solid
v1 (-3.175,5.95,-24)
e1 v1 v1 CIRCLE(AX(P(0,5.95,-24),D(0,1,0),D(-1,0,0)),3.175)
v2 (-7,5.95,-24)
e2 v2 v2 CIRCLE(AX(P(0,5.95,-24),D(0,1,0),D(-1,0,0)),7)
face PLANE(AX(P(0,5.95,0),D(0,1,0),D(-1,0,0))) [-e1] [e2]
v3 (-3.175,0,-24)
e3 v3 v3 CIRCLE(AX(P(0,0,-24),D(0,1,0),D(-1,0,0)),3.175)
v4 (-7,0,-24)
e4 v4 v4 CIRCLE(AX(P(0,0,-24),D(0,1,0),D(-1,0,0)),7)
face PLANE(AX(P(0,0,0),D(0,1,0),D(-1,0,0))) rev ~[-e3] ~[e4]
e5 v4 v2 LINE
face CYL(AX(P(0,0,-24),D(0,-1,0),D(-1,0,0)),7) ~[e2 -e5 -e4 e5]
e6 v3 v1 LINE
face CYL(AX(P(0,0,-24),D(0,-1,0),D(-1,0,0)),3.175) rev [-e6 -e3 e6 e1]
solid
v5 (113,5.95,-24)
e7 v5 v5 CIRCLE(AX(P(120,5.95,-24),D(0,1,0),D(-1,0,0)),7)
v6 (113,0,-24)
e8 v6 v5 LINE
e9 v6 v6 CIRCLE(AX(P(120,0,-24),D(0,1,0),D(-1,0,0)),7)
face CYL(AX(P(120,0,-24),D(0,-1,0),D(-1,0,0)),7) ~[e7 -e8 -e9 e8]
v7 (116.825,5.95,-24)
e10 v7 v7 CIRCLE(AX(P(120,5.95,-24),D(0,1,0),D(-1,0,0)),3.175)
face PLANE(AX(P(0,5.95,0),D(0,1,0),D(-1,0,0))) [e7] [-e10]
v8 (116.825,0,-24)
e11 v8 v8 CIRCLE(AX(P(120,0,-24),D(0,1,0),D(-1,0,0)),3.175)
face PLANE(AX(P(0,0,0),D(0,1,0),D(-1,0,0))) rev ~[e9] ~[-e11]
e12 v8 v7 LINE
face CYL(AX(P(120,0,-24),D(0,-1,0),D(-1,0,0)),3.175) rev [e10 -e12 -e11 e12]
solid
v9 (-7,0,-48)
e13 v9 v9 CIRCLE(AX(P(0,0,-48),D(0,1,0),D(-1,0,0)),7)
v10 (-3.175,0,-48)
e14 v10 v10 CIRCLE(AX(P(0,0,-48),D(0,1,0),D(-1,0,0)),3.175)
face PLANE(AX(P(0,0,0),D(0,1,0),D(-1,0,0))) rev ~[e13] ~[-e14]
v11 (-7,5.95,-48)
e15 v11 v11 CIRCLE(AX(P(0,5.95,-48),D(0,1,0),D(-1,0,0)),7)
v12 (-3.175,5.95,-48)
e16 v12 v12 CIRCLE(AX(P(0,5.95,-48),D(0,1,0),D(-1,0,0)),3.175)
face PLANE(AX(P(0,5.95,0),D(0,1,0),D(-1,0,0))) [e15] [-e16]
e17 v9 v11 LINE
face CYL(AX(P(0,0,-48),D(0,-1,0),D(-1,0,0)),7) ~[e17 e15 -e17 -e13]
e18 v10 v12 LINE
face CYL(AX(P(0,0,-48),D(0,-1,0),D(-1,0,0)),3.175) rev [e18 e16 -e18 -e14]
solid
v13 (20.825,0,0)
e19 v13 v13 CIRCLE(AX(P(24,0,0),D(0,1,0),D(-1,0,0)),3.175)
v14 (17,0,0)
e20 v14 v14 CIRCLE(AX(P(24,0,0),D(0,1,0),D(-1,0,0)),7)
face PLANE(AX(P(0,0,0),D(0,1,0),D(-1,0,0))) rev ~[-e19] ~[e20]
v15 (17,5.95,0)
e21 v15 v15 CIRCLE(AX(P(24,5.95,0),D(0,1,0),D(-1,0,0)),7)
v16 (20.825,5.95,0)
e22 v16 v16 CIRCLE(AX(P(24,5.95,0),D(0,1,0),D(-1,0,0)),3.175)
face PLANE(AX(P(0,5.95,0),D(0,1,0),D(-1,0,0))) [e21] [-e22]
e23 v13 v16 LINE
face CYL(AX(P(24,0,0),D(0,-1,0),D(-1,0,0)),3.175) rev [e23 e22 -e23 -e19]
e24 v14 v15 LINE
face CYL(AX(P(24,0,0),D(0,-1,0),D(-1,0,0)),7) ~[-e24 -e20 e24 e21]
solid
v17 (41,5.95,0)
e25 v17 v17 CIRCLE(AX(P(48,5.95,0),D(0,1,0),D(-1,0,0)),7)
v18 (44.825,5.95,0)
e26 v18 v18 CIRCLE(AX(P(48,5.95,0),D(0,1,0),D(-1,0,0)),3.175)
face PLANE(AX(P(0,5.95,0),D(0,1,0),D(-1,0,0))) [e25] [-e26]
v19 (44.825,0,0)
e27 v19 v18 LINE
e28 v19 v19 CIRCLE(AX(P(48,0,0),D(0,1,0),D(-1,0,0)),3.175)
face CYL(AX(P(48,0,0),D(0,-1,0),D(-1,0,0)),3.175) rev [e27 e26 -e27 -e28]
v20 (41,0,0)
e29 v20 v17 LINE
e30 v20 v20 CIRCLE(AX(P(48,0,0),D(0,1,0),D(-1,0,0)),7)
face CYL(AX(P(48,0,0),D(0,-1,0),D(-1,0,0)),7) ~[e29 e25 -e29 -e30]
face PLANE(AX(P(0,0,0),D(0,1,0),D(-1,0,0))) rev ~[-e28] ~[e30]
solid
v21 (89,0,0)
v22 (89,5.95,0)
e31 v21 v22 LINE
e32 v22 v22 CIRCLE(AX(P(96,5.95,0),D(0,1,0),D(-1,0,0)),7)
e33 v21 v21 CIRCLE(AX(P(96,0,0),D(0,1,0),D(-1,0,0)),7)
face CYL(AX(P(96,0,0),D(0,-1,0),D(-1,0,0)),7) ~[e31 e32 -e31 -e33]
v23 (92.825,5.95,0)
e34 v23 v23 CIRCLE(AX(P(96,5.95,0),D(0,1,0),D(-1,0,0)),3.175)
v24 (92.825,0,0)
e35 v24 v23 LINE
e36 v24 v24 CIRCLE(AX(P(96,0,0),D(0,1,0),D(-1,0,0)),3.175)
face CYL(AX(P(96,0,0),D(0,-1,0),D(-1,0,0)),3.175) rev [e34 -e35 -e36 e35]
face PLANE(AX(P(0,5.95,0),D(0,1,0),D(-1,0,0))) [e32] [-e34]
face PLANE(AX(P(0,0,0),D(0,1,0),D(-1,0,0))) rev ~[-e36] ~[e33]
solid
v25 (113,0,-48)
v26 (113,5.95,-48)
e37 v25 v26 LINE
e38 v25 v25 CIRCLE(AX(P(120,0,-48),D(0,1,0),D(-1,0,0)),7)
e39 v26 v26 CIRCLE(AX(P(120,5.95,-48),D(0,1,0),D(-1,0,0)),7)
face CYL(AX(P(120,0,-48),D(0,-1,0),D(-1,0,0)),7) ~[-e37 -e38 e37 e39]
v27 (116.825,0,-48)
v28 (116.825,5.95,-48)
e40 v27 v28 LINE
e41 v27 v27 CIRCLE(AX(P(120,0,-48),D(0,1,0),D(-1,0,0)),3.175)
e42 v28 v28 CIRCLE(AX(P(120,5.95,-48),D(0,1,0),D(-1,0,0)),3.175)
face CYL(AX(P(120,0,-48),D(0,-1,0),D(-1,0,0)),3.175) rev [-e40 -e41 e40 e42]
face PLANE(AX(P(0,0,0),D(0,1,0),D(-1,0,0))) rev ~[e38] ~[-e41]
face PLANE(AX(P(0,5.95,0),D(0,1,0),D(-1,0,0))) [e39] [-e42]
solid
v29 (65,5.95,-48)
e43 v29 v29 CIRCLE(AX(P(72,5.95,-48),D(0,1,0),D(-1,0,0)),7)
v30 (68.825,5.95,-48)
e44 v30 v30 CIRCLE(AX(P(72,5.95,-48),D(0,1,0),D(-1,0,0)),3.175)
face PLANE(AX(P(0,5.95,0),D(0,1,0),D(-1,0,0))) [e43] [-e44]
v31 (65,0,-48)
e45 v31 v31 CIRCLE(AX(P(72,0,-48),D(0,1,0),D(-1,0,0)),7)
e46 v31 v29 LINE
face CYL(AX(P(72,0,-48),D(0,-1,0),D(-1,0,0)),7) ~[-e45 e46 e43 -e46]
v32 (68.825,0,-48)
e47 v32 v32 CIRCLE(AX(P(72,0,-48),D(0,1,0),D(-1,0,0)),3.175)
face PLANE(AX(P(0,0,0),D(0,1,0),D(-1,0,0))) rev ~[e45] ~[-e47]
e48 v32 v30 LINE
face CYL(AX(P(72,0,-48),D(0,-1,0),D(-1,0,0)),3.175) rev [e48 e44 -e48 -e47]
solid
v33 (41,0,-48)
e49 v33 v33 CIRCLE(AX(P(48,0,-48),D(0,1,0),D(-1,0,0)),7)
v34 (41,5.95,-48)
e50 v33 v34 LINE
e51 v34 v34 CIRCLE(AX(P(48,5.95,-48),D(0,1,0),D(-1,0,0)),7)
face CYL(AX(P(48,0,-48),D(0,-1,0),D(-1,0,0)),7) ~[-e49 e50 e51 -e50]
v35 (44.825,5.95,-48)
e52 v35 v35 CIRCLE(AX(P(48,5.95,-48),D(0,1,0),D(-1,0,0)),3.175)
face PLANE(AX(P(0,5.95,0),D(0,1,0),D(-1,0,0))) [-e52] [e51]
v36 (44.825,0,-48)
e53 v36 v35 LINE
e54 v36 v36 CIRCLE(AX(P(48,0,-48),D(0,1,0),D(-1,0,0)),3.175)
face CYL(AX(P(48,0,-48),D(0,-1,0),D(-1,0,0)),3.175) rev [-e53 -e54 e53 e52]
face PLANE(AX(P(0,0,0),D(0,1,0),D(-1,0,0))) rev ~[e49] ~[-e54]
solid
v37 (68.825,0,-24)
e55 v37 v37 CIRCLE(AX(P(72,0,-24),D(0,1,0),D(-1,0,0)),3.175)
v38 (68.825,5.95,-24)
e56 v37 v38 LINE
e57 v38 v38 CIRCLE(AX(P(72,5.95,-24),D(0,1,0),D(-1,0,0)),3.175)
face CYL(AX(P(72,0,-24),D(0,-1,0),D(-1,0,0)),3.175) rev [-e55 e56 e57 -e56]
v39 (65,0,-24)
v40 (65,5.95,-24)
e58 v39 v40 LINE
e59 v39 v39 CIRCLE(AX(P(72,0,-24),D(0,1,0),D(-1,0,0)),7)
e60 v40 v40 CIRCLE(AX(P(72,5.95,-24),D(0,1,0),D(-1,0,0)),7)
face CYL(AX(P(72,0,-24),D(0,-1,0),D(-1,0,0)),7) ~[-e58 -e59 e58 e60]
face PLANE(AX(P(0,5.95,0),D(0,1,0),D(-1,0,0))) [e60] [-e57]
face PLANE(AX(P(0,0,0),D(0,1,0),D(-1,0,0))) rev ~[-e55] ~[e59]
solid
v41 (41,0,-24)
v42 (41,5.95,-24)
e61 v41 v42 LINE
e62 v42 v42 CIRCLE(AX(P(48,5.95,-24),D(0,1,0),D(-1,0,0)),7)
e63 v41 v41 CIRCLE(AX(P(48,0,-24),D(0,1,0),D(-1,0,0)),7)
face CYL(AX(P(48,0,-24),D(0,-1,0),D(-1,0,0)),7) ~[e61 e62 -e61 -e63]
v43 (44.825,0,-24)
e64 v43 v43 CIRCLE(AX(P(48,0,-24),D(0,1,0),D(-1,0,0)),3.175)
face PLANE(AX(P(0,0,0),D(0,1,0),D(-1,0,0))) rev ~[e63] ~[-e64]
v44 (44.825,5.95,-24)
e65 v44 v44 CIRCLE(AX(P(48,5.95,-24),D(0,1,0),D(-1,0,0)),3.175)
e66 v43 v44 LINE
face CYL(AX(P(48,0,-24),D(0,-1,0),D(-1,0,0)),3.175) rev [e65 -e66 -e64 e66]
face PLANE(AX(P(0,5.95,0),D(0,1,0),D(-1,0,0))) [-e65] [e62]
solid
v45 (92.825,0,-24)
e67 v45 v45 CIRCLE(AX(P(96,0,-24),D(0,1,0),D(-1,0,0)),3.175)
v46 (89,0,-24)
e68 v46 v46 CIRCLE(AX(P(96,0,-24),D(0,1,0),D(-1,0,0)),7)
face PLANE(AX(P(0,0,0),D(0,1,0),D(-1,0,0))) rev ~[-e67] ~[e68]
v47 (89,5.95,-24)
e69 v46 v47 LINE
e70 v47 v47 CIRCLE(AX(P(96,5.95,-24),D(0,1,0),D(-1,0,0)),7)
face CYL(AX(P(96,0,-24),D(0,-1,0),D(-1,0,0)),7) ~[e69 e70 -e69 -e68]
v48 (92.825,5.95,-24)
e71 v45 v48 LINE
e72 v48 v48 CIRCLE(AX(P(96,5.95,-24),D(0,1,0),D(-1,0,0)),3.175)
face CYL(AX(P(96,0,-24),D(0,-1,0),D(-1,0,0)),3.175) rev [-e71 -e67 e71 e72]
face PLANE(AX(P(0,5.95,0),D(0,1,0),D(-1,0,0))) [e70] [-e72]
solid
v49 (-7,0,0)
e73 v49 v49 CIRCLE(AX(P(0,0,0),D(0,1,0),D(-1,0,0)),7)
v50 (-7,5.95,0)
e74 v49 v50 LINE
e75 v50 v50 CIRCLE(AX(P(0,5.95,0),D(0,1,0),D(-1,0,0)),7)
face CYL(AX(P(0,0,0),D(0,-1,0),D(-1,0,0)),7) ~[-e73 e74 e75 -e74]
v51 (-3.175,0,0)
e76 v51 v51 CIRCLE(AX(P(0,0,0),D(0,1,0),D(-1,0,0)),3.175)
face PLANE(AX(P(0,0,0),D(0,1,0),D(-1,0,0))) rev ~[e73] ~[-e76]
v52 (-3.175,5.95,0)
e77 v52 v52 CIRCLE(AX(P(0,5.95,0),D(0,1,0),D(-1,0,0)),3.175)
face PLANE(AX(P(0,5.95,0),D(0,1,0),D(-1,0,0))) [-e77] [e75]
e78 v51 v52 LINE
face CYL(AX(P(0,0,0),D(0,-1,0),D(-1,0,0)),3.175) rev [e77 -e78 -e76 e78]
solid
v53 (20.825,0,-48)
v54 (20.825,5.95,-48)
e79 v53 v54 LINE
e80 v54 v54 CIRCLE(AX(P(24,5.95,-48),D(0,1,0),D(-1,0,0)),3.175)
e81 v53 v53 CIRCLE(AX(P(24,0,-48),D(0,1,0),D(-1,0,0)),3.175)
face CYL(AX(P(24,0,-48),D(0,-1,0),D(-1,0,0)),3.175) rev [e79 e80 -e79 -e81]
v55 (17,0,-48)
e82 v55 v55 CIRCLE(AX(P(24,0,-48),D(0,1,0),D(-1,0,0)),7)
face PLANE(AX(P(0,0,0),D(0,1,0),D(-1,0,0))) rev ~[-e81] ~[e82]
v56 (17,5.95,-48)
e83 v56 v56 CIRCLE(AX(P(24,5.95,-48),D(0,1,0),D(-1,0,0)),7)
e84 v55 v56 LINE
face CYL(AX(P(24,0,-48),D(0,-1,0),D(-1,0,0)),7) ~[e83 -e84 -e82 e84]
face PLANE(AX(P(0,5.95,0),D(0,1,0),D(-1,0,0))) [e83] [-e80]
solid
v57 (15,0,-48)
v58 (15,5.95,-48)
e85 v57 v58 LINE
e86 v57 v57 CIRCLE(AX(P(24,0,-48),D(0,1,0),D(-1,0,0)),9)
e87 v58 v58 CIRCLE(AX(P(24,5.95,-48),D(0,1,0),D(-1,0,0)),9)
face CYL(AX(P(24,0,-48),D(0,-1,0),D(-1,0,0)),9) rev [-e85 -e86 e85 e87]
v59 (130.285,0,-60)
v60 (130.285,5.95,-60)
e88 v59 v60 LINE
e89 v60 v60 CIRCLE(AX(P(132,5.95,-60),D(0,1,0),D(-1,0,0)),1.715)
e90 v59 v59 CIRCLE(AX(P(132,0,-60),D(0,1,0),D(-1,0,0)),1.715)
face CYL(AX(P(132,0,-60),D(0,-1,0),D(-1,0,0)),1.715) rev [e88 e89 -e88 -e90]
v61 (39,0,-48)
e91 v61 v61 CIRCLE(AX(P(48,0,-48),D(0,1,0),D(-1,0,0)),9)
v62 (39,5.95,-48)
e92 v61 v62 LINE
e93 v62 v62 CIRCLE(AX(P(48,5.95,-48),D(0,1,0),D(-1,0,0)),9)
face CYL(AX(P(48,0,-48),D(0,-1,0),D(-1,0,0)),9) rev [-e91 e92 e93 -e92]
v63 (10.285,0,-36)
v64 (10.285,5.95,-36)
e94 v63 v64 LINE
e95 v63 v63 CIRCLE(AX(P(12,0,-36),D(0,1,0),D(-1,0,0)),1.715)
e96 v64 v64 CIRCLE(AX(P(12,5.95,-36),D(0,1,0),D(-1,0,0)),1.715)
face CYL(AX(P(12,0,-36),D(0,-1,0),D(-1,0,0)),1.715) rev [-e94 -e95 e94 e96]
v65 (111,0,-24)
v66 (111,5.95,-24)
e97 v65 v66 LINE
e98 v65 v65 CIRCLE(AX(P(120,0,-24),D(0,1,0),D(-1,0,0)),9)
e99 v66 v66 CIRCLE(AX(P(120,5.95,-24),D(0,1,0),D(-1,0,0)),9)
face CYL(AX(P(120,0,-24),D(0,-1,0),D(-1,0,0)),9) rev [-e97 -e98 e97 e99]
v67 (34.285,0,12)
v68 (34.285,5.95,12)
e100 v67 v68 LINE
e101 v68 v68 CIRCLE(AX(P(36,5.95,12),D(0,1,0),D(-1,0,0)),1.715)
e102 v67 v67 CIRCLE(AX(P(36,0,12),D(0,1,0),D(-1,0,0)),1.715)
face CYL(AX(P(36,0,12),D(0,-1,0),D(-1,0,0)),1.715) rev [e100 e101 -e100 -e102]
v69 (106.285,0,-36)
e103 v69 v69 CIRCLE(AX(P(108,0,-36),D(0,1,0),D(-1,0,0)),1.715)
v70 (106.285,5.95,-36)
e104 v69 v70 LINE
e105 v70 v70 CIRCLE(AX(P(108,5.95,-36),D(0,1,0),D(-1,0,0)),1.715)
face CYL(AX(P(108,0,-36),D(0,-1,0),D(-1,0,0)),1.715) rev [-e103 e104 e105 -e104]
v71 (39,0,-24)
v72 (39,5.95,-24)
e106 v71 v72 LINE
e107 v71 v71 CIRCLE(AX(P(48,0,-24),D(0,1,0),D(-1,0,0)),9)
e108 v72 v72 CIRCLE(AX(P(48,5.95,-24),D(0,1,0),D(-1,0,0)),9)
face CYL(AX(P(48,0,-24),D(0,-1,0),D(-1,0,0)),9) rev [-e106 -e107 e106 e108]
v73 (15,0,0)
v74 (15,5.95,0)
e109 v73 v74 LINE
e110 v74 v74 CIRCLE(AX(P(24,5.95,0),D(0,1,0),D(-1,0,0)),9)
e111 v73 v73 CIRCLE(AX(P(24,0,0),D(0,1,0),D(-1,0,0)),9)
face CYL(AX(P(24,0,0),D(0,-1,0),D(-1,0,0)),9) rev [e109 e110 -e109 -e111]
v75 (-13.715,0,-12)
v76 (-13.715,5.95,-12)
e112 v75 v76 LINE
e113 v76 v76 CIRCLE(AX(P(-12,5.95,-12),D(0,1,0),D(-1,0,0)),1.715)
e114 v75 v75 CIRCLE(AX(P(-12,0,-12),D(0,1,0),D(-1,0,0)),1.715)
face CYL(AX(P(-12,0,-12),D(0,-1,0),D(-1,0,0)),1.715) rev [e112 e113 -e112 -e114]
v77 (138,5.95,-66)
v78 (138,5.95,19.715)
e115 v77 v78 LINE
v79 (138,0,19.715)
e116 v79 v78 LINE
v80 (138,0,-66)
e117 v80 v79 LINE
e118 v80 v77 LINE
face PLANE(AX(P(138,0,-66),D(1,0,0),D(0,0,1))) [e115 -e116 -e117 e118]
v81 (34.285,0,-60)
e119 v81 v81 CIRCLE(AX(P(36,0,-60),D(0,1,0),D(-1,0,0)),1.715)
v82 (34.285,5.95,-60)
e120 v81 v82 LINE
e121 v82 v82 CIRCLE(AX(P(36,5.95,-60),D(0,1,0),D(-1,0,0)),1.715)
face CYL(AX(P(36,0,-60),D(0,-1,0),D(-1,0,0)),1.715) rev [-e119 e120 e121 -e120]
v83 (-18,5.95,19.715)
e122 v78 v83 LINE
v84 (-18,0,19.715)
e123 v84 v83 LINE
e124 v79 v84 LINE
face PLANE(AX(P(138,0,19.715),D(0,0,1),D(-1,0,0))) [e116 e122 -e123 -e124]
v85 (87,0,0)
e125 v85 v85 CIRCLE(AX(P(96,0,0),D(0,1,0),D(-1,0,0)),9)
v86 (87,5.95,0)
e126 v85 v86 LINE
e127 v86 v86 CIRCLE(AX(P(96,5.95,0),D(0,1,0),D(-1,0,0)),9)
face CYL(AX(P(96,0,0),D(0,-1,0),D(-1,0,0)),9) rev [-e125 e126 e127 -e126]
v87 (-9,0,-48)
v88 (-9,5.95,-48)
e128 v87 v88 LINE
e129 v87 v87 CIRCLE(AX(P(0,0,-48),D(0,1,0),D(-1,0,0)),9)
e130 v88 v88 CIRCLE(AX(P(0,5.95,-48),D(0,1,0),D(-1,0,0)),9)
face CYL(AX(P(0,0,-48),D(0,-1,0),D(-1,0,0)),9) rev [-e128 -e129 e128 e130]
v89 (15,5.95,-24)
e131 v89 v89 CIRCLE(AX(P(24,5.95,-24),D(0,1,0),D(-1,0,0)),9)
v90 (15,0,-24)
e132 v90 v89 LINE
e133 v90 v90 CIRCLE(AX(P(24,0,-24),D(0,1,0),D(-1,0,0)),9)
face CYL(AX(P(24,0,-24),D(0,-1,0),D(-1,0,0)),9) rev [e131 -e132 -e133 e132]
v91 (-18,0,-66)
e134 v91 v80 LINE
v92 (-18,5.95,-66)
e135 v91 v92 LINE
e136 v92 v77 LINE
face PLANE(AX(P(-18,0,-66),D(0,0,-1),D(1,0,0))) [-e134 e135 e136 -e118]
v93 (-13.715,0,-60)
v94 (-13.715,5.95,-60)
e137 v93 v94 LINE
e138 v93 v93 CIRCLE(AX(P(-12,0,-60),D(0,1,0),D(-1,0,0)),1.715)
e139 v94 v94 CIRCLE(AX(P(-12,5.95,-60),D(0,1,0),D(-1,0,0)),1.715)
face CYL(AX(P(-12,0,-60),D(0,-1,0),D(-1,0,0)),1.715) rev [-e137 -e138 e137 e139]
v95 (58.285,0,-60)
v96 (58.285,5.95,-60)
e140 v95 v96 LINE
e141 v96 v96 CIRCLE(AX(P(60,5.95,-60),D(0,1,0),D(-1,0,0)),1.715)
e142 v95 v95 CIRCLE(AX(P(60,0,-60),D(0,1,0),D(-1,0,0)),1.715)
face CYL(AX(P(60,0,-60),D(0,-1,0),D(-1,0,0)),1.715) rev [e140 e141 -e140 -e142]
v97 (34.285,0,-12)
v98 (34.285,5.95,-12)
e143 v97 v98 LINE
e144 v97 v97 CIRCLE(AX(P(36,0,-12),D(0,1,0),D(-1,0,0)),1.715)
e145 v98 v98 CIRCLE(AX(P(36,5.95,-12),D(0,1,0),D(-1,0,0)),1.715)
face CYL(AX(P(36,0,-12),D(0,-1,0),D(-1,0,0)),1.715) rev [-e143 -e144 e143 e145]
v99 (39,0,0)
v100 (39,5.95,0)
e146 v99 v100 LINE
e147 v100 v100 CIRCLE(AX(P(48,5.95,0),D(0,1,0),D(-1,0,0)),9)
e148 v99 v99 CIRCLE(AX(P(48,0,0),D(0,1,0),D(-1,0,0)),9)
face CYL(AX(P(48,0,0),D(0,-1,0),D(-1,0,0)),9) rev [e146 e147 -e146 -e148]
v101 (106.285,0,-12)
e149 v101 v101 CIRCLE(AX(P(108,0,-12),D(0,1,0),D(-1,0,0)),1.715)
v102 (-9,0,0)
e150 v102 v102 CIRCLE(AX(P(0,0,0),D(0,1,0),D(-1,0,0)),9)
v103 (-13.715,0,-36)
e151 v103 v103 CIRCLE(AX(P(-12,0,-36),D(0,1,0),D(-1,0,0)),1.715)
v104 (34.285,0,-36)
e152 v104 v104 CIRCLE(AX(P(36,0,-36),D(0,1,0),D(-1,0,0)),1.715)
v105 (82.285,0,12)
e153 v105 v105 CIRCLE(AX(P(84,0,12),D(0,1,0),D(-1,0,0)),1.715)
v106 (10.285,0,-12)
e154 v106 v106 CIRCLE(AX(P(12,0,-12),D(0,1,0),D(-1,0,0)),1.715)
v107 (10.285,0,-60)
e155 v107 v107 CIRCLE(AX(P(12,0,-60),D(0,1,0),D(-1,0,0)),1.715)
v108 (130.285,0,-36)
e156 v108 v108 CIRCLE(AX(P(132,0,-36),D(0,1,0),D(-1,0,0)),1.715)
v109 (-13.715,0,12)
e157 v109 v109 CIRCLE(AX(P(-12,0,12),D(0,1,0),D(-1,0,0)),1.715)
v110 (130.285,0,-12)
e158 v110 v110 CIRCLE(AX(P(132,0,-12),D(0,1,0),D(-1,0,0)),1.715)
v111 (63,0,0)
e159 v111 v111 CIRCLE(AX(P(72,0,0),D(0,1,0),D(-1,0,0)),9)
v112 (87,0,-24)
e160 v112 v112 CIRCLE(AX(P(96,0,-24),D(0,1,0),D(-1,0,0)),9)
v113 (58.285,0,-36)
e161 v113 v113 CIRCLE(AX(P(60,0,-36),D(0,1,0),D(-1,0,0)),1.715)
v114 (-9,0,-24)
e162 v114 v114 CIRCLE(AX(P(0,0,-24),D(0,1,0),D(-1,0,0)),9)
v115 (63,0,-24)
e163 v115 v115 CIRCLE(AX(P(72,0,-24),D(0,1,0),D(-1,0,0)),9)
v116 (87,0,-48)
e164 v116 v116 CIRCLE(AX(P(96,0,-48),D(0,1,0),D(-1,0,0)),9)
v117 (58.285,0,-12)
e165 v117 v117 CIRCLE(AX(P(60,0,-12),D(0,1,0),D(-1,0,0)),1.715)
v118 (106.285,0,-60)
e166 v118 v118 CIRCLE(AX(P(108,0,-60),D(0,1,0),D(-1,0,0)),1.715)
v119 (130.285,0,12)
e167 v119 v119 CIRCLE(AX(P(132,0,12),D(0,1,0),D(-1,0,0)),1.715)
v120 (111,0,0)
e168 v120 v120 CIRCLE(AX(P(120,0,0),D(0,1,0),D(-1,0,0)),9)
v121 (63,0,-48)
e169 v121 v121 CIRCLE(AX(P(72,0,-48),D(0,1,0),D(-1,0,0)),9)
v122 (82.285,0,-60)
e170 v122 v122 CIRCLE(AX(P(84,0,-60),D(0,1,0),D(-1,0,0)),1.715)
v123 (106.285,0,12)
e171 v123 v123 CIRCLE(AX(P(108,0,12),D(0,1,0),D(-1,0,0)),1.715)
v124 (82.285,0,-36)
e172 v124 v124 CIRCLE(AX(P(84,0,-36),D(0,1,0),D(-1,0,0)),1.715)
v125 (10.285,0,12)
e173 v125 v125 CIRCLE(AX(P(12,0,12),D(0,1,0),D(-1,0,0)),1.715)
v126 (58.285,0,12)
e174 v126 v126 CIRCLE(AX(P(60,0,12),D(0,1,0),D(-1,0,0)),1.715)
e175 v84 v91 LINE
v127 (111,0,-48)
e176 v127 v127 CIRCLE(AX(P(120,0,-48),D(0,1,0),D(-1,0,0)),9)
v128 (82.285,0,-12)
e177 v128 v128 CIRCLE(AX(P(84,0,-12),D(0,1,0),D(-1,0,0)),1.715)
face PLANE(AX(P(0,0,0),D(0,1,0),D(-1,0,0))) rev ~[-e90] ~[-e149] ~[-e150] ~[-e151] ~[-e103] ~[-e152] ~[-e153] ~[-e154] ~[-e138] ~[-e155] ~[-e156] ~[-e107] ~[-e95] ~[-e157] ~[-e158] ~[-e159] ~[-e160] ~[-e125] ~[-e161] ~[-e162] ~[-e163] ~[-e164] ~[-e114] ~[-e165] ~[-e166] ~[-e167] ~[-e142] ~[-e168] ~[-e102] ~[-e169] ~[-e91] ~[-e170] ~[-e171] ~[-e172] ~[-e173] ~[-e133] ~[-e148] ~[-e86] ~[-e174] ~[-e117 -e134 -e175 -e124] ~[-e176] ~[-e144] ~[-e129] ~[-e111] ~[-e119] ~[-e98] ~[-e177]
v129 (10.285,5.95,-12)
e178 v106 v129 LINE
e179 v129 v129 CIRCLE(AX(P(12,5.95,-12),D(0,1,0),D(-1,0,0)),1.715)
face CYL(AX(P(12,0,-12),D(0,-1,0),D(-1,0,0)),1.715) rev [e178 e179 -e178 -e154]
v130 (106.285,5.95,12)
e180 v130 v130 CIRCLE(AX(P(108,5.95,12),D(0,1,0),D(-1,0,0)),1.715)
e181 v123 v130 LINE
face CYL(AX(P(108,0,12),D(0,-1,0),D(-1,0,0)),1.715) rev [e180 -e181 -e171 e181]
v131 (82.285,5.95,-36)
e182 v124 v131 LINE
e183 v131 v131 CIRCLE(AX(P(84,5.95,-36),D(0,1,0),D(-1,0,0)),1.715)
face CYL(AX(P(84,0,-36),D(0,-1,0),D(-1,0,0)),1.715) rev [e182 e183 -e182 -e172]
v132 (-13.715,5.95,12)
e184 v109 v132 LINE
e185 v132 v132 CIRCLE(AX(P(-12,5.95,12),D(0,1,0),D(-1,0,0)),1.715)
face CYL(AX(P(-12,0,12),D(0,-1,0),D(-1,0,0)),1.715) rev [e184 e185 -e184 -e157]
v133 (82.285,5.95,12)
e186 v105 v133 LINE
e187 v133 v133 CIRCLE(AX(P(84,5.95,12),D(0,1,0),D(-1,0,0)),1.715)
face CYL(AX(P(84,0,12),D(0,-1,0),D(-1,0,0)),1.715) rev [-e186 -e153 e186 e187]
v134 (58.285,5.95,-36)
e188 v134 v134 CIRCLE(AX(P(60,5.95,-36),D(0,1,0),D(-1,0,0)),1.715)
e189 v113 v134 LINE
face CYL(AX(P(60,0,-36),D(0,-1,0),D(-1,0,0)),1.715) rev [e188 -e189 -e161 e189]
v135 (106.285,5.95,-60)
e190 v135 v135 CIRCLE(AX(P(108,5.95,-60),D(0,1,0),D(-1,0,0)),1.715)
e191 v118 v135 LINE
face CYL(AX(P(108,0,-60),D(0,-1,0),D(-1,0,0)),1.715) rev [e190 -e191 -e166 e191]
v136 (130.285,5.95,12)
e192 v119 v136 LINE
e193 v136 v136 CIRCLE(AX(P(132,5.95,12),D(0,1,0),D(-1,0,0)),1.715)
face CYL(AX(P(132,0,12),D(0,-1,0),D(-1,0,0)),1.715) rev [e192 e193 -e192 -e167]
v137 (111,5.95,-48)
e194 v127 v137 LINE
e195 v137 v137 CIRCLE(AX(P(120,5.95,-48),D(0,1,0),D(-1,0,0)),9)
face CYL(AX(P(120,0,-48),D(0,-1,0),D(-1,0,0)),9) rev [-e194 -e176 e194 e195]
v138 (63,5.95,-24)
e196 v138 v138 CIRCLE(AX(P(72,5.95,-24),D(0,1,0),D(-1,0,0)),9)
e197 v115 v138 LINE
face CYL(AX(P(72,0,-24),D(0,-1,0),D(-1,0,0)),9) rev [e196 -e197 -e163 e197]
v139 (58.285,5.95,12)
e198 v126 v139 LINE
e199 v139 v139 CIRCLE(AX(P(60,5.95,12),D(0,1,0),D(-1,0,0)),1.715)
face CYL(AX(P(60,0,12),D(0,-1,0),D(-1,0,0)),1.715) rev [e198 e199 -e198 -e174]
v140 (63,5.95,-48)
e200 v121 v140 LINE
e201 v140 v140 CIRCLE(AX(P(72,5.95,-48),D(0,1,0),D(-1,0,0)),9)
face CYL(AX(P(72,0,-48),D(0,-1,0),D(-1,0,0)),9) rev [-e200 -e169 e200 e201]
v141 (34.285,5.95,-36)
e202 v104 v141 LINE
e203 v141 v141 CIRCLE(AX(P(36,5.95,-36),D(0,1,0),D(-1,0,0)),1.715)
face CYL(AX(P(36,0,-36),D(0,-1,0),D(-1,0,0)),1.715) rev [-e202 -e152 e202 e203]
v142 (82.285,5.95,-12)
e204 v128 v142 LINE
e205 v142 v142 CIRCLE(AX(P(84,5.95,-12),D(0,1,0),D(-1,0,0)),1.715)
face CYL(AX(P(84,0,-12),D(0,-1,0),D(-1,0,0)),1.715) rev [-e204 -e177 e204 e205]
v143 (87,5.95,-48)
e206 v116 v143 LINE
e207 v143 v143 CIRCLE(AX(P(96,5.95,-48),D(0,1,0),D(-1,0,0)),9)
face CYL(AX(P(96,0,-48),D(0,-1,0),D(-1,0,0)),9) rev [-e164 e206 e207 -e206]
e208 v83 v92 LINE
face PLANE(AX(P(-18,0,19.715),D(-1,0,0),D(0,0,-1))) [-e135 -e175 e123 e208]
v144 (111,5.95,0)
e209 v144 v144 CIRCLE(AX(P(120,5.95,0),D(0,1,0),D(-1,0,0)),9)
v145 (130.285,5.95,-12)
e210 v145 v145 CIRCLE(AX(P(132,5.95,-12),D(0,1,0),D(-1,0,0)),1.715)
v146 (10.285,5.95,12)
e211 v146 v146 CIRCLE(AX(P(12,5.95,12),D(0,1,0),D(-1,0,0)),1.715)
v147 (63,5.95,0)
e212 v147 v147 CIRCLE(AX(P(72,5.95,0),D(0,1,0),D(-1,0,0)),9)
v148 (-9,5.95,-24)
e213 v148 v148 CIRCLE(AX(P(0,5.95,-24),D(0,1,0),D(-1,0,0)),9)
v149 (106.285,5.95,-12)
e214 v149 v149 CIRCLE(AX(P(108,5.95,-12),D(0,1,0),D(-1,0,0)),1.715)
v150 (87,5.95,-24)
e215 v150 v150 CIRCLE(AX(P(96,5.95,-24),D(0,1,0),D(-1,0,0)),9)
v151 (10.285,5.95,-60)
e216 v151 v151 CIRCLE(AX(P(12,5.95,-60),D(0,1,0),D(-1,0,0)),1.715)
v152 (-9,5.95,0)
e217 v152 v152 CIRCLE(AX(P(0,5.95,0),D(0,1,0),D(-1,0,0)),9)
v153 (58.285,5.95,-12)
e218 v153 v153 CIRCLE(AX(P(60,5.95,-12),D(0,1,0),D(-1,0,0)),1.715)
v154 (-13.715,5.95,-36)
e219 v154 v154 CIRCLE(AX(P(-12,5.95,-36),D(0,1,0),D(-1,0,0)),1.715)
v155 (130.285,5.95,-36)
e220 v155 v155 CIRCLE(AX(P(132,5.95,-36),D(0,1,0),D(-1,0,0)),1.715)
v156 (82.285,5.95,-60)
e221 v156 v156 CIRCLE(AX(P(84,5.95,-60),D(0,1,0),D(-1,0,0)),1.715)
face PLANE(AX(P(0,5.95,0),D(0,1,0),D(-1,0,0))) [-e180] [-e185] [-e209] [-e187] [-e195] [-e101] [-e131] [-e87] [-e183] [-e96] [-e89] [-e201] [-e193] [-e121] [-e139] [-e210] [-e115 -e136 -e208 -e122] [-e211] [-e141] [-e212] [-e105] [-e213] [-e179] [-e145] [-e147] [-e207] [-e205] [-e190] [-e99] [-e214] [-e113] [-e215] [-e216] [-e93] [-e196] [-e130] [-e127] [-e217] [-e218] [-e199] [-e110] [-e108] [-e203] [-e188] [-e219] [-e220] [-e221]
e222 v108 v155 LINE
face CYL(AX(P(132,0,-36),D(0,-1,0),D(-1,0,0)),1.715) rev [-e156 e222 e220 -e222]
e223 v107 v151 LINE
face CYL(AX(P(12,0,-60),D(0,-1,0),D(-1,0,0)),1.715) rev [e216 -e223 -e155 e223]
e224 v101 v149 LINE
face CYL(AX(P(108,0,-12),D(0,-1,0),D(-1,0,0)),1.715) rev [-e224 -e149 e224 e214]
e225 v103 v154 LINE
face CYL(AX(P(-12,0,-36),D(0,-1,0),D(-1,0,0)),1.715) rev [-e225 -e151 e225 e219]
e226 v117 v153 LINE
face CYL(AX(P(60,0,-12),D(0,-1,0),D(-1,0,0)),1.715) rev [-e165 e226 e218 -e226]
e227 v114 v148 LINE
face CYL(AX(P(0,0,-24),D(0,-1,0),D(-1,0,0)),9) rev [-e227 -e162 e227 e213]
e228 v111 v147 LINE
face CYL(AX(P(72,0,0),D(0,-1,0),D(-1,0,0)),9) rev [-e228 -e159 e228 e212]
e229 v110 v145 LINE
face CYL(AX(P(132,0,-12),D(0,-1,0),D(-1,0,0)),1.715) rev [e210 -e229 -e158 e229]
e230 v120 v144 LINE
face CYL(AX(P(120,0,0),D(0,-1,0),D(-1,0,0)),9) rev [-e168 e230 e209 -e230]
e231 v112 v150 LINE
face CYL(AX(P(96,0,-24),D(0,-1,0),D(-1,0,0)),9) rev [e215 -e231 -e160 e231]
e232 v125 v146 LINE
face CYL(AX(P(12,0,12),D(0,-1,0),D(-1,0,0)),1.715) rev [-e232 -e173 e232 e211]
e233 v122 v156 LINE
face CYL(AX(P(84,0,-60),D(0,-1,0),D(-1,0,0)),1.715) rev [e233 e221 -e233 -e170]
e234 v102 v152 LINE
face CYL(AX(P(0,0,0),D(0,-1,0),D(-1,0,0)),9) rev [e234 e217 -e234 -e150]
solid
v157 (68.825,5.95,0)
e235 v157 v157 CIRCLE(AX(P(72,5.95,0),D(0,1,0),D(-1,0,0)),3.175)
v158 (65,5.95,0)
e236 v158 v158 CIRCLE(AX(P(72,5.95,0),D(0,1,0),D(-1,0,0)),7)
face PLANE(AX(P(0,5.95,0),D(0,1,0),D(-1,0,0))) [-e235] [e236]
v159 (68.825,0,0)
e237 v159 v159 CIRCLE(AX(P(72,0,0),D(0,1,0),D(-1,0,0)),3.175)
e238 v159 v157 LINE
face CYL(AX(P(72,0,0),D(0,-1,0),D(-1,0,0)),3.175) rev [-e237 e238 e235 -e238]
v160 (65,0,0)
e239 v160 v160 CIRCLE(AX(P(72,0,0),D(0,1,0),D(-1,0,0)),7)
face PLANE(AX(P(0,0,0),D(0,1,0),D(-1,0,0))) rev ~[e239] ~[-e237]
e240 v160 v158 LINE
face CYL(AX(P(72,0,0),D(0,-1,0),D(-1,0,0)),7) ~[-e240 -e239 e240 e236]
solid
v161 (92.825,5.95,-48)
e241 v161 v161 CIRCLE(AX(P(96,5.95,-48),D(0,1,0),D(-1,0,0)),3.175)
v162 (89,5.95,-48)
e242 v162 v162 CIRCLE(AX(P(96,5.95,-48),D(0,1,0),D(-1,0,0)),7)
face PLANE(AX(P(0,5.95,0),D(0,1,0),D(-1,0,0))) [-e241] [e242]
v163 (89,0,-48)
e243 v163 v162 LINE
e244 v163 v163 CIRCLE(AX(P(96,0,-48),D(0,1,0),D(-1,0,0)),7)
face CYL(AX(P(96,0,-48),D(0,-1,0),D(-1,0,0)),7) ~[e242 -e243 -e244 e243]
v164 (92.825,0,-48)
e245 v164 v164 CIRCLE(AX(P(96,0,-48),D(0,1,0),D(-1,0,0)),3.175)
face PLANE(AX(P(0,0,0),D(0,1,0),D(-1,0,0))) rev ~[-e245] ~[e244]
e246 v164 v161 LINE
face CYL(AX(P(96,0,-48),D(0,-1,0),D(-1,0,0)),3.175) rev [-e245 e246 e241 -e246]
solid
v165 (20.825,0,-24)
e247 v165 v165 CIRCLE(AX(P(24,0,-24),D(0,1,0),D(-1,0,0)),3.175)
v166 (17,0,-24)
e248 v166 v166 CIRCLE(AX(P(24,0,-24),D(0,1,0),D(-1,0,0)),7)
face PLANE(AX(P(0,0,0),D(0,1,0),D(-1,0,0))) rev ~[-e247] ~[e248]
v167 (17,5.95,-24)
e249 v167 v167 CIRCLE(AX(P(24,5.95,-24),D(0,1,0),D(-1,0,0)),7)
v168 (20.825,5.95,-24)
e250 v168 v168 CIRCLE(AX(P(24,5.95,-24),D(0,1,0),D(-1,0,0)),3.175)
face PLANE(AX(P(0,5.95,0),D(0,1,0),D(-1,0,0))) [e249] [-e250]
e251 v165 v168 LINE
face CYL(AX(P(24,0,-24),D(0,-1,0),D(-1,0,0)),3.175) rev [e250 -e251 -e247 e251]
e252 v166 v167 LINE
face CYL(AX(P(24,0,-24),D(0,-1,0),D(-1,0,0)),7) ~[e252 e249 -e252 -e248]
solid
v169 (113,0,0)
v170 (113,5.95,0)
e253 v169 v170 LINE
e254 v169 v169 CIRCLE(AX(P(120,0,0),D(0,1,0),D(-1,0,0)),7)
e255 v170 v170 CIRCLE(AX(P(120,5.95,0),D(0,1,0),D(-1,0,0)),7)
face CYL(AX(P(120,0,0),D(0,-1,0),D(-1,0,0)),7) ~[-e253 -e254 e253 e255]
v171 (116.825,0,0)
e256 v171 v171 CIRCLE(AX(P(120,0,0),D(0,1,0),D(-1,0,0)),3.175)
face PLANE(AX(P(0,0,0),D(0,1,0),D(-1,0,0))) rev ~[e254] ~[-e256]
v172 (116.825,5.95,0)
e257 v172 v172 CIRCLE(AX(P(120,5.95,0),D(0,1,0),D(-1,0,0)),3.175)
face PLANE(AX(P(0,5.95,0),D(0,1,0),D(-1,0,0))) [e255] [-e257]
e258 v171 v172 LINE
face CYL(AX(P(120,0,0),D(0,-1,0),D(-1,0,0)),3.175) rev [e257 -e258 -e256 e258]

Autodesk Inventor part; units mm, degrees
ref_plane "YZ Plane" through (0, 0, 0) normal (1, 0, 0) x (0, 1, 0)
ref_plane "XZ Plane" through (0, 0, 0) normal (0, 1, 0) x (-1, 0, 0)
ref_plane "XY Plane" through (0, 0, 0) normal (0, 0, 1) x (1, 0, 0)
sketch "Sketch1" plane through (0, 0, 0) normal (0, 1, 0) x (-1, 0, 0)
  circle A0 centre (0, 0) radius 9
  circle A1 centre (0, 0) radius 7
  circle A2 centre (12, -12) radius 1.715
  line L0 (0, 0) -> (0, -7) construction
  line L1 (0, 0) -> (9, 0) construction
  circle A3 centre (0, 0) radius 3.175
  line L2 (18, -66) -> (-138, -66)
  line L3 (-138, -66) -> (-138, 19.715)
  line L4 (-138, 19.715) -> (18, 19.715)
  line L5 (18, 19.715) -> (18, -66)
  circle A4 centre (12, 12) radius 1.715
  circle A5 centre (-12, 12) radius 1.715
  circle A6 centre (-12, -12) radius 1.715
  line L6 (12, -12) -> (0, 0) construction
  circle A7 centre (0, -24) radius 9
  circle A8 centre (0, -24) radius 7
  circle A9 centre (0, -24) radius 3.175
  circle A10 centre (12, -36) radius 1.715
  circle A11 centre (-12, -36) radius 1.715
  circle A12 centre (0, -48) radius 9
  circle A13 centre (0, -48) radius 7
  circle A14 centre (0, -48) radius 3.175
  circle A15 centre (12, -60) radius 1.715
  circle A16 centre (-12, -60) radius 1.715
  circle A17 centre (-36, 12) radius 1.715
  circle A18 centre (-24, 0) radius 9
  circle A19 centre (-24, 0) radius 7
  circle A20 centre (-24, 0) radius 3.175
  circle A21 centre (-36, -12) radius 1.715
  circle A22 centre (-24, -24) radius 9
  circle A23 centre (-24, -24) radius 7
  circle A24 centre (-24, -24) radius 3.175
  circle A25 centre (-36, -36) radius 1.715
  circle A26 centre (-24, -48) radius 9
  circle A27 centre (-24, -48) radius 7
  circle A28 centre (-24, -48) radius 3.175
  circle A29 centre (-36, -60) radius 1.715
  circle A30 centre (-60, 12) radius 1.715
  circle A31 centre (-48, 0) radius 9
  circle A32 centre (-48, 0) radius 7
  circle A33 centre (-48, 0) radius 3.175
  circle A34 centre (-60, -12) radius 1.715
  circle A35 centre (-48, -24) radius 9
  circle A36 centre (-48, -24) radius 7
  circle A37 centre (-48, -24) radius 3.175
  circle A38 centre (-60, -36) radius 1.715
  circle A39 centre (-48, -48) radius 9
  circle A40 centre (-48, -48) radius 7
  circle A41 centre (-48, -48) radius 3.175
  circle A42 centre (-60, -60) radius 1.715
  circle A43 centre (-84, 12) radius 1.715
  circle A44 centre (-72, 0) radius 9
  circle A45 centre (-72, 0) radius 7
  circle A46 centre (-72, 0) radius 3.175
  circle A47 centre (-84, -12) radius 1.715
  circle A48 centre (-72, -24) radius 9
  circle A49 centre (-72, -24) radius 7
  circle A50 centre (-72, -24) radius 3.175
  circle A51 centre (-84, -36) radius 1.715
  circle A52 centre (-72, -48) radius 9
  circle A53 centre (-72, -48) radius 7
  circle A54 centre (-72, -48) radius 3.175
  circle A55 centre (-84, -60) radius 1.715
  circle A56 centre (-108, 12) radius 1.715
  circle A57 centre (-96, 0) radius 9
  circle A58 centre (-96, 0) radius 7
  circle A59 centre (-96, 0) radius 3.175
  circle A60 centre (-108, -12) radius 1.715
  circle A61 centre (-96, -24) radius 9
  circle A62 centre (-96, -24) radius 7
  circle A63 centre (-96, -24) radius 3.175
  circle A64 centre (-108, -36) radius 1.715
  circle A65 centre (-96, -48) radius 9
  circle A66 centre (-96, -48) radius 7
  circle A67 centre (-96, -48) radius 3.175
  circle A68 centre (-108, -60) radius 1.715
  circle A69 centre (-132, 12) radius 1.715
  circle A70 centre (-120, 0) radius 9
  circle A71 centre (-120, 0) radius 7
  circle A72 centre (-120, 0) radius 3.175
  circle A73 centre (-132, -12) radius 1.715
  circle A74 centre (-120, -24) radius 9
  circle A75 centre (-120, -24) radius 7
  circle A76 centre (-120, -24) radius 3.175
  circle A77 centre (-132, -36) radius 1.715
  circle A78 centre (-120, -48) radius 9
  circle A79 centre (-120, -48) radius 7
  circle A80 centre (-120, -48) radius 3.175
  circle A81 centre (-132, -60) radius 1.715
  point P0 (9, -24)
  point P1 (0, -31)
  point P2 (9, -48)
  point P3 (0, -55)
  point P4 (-15, 0)
  point P5 (-24, -7)
  point P6 (-15, -24)
  point P7 (-24, -31)
  point P8 (-15, -48)
  point P9 (-24, -55)
  point P10 (-39, 0)
  point P11 (-48, -7)
  point P12 (-39, -24)
  point P13 (-48, -31)
  point P14 (-39, -48)
  point P15 (-48, -55)
  point P16 (-63, 0)
  point P17 (-72, -7)
  point P18 (-63, -24)
  point P19 (-72, -31)
  point P20 (-63, -48)
  point P21 (-72, -55)
  point P22 (-87, 0)
  point P23 (-96, -7)
  point P24 (-87, -24)
  point P25 (-96, -31)
  point P26 (-87, -48)
  point P27 (-96, -55)
  point P28 (-111, 0)
  point P29 (-120, -7)
  point P30 (-111, -24)
  point P31 (-120, -31)
  point P32 (-111, -48)
  point P33 (-120, -55)
  dimension "d0" = 18
  dimension "d1" = 2
  dimension "d2" = 3.43
  dimension "d6" = 6.35
  dimension "d27" = 360
  dimension "d29" = 45
  dimension "d30" = 12
  dimension "d33" = 24
  dimension "d40" = 24
  dimension "d45" = 6
  dimension "d46" = 6
  dimension "d47" = 6
  dimension "d48" = 6
extrude "Extrusion3" add sketch "Sketch1" along normal blind 5.95
equation "\"d0\" = 0.75 * BearingDiameter"
equation "\"d1\" = SiliconeOverlapThickness"
equation "\"d2\" = HoldScrewDiameter"
equation "\"d6\" = DowlDiameter"
equation "\"d49\" = WoodThickness"
equation "\"BearingDiameter\" = 24"
equation "\"SiliconeOverlapThickness\" = 2"
equation "\"HoldScrewDiameter\" = 3.43"
equation "\"DowlDiameter\" = 6.35"
equation "\"WoodThickness\" = 5.95"
properties part number "BearingSiliconeMold_2" material "MDF Medium Density Fiberboard"
